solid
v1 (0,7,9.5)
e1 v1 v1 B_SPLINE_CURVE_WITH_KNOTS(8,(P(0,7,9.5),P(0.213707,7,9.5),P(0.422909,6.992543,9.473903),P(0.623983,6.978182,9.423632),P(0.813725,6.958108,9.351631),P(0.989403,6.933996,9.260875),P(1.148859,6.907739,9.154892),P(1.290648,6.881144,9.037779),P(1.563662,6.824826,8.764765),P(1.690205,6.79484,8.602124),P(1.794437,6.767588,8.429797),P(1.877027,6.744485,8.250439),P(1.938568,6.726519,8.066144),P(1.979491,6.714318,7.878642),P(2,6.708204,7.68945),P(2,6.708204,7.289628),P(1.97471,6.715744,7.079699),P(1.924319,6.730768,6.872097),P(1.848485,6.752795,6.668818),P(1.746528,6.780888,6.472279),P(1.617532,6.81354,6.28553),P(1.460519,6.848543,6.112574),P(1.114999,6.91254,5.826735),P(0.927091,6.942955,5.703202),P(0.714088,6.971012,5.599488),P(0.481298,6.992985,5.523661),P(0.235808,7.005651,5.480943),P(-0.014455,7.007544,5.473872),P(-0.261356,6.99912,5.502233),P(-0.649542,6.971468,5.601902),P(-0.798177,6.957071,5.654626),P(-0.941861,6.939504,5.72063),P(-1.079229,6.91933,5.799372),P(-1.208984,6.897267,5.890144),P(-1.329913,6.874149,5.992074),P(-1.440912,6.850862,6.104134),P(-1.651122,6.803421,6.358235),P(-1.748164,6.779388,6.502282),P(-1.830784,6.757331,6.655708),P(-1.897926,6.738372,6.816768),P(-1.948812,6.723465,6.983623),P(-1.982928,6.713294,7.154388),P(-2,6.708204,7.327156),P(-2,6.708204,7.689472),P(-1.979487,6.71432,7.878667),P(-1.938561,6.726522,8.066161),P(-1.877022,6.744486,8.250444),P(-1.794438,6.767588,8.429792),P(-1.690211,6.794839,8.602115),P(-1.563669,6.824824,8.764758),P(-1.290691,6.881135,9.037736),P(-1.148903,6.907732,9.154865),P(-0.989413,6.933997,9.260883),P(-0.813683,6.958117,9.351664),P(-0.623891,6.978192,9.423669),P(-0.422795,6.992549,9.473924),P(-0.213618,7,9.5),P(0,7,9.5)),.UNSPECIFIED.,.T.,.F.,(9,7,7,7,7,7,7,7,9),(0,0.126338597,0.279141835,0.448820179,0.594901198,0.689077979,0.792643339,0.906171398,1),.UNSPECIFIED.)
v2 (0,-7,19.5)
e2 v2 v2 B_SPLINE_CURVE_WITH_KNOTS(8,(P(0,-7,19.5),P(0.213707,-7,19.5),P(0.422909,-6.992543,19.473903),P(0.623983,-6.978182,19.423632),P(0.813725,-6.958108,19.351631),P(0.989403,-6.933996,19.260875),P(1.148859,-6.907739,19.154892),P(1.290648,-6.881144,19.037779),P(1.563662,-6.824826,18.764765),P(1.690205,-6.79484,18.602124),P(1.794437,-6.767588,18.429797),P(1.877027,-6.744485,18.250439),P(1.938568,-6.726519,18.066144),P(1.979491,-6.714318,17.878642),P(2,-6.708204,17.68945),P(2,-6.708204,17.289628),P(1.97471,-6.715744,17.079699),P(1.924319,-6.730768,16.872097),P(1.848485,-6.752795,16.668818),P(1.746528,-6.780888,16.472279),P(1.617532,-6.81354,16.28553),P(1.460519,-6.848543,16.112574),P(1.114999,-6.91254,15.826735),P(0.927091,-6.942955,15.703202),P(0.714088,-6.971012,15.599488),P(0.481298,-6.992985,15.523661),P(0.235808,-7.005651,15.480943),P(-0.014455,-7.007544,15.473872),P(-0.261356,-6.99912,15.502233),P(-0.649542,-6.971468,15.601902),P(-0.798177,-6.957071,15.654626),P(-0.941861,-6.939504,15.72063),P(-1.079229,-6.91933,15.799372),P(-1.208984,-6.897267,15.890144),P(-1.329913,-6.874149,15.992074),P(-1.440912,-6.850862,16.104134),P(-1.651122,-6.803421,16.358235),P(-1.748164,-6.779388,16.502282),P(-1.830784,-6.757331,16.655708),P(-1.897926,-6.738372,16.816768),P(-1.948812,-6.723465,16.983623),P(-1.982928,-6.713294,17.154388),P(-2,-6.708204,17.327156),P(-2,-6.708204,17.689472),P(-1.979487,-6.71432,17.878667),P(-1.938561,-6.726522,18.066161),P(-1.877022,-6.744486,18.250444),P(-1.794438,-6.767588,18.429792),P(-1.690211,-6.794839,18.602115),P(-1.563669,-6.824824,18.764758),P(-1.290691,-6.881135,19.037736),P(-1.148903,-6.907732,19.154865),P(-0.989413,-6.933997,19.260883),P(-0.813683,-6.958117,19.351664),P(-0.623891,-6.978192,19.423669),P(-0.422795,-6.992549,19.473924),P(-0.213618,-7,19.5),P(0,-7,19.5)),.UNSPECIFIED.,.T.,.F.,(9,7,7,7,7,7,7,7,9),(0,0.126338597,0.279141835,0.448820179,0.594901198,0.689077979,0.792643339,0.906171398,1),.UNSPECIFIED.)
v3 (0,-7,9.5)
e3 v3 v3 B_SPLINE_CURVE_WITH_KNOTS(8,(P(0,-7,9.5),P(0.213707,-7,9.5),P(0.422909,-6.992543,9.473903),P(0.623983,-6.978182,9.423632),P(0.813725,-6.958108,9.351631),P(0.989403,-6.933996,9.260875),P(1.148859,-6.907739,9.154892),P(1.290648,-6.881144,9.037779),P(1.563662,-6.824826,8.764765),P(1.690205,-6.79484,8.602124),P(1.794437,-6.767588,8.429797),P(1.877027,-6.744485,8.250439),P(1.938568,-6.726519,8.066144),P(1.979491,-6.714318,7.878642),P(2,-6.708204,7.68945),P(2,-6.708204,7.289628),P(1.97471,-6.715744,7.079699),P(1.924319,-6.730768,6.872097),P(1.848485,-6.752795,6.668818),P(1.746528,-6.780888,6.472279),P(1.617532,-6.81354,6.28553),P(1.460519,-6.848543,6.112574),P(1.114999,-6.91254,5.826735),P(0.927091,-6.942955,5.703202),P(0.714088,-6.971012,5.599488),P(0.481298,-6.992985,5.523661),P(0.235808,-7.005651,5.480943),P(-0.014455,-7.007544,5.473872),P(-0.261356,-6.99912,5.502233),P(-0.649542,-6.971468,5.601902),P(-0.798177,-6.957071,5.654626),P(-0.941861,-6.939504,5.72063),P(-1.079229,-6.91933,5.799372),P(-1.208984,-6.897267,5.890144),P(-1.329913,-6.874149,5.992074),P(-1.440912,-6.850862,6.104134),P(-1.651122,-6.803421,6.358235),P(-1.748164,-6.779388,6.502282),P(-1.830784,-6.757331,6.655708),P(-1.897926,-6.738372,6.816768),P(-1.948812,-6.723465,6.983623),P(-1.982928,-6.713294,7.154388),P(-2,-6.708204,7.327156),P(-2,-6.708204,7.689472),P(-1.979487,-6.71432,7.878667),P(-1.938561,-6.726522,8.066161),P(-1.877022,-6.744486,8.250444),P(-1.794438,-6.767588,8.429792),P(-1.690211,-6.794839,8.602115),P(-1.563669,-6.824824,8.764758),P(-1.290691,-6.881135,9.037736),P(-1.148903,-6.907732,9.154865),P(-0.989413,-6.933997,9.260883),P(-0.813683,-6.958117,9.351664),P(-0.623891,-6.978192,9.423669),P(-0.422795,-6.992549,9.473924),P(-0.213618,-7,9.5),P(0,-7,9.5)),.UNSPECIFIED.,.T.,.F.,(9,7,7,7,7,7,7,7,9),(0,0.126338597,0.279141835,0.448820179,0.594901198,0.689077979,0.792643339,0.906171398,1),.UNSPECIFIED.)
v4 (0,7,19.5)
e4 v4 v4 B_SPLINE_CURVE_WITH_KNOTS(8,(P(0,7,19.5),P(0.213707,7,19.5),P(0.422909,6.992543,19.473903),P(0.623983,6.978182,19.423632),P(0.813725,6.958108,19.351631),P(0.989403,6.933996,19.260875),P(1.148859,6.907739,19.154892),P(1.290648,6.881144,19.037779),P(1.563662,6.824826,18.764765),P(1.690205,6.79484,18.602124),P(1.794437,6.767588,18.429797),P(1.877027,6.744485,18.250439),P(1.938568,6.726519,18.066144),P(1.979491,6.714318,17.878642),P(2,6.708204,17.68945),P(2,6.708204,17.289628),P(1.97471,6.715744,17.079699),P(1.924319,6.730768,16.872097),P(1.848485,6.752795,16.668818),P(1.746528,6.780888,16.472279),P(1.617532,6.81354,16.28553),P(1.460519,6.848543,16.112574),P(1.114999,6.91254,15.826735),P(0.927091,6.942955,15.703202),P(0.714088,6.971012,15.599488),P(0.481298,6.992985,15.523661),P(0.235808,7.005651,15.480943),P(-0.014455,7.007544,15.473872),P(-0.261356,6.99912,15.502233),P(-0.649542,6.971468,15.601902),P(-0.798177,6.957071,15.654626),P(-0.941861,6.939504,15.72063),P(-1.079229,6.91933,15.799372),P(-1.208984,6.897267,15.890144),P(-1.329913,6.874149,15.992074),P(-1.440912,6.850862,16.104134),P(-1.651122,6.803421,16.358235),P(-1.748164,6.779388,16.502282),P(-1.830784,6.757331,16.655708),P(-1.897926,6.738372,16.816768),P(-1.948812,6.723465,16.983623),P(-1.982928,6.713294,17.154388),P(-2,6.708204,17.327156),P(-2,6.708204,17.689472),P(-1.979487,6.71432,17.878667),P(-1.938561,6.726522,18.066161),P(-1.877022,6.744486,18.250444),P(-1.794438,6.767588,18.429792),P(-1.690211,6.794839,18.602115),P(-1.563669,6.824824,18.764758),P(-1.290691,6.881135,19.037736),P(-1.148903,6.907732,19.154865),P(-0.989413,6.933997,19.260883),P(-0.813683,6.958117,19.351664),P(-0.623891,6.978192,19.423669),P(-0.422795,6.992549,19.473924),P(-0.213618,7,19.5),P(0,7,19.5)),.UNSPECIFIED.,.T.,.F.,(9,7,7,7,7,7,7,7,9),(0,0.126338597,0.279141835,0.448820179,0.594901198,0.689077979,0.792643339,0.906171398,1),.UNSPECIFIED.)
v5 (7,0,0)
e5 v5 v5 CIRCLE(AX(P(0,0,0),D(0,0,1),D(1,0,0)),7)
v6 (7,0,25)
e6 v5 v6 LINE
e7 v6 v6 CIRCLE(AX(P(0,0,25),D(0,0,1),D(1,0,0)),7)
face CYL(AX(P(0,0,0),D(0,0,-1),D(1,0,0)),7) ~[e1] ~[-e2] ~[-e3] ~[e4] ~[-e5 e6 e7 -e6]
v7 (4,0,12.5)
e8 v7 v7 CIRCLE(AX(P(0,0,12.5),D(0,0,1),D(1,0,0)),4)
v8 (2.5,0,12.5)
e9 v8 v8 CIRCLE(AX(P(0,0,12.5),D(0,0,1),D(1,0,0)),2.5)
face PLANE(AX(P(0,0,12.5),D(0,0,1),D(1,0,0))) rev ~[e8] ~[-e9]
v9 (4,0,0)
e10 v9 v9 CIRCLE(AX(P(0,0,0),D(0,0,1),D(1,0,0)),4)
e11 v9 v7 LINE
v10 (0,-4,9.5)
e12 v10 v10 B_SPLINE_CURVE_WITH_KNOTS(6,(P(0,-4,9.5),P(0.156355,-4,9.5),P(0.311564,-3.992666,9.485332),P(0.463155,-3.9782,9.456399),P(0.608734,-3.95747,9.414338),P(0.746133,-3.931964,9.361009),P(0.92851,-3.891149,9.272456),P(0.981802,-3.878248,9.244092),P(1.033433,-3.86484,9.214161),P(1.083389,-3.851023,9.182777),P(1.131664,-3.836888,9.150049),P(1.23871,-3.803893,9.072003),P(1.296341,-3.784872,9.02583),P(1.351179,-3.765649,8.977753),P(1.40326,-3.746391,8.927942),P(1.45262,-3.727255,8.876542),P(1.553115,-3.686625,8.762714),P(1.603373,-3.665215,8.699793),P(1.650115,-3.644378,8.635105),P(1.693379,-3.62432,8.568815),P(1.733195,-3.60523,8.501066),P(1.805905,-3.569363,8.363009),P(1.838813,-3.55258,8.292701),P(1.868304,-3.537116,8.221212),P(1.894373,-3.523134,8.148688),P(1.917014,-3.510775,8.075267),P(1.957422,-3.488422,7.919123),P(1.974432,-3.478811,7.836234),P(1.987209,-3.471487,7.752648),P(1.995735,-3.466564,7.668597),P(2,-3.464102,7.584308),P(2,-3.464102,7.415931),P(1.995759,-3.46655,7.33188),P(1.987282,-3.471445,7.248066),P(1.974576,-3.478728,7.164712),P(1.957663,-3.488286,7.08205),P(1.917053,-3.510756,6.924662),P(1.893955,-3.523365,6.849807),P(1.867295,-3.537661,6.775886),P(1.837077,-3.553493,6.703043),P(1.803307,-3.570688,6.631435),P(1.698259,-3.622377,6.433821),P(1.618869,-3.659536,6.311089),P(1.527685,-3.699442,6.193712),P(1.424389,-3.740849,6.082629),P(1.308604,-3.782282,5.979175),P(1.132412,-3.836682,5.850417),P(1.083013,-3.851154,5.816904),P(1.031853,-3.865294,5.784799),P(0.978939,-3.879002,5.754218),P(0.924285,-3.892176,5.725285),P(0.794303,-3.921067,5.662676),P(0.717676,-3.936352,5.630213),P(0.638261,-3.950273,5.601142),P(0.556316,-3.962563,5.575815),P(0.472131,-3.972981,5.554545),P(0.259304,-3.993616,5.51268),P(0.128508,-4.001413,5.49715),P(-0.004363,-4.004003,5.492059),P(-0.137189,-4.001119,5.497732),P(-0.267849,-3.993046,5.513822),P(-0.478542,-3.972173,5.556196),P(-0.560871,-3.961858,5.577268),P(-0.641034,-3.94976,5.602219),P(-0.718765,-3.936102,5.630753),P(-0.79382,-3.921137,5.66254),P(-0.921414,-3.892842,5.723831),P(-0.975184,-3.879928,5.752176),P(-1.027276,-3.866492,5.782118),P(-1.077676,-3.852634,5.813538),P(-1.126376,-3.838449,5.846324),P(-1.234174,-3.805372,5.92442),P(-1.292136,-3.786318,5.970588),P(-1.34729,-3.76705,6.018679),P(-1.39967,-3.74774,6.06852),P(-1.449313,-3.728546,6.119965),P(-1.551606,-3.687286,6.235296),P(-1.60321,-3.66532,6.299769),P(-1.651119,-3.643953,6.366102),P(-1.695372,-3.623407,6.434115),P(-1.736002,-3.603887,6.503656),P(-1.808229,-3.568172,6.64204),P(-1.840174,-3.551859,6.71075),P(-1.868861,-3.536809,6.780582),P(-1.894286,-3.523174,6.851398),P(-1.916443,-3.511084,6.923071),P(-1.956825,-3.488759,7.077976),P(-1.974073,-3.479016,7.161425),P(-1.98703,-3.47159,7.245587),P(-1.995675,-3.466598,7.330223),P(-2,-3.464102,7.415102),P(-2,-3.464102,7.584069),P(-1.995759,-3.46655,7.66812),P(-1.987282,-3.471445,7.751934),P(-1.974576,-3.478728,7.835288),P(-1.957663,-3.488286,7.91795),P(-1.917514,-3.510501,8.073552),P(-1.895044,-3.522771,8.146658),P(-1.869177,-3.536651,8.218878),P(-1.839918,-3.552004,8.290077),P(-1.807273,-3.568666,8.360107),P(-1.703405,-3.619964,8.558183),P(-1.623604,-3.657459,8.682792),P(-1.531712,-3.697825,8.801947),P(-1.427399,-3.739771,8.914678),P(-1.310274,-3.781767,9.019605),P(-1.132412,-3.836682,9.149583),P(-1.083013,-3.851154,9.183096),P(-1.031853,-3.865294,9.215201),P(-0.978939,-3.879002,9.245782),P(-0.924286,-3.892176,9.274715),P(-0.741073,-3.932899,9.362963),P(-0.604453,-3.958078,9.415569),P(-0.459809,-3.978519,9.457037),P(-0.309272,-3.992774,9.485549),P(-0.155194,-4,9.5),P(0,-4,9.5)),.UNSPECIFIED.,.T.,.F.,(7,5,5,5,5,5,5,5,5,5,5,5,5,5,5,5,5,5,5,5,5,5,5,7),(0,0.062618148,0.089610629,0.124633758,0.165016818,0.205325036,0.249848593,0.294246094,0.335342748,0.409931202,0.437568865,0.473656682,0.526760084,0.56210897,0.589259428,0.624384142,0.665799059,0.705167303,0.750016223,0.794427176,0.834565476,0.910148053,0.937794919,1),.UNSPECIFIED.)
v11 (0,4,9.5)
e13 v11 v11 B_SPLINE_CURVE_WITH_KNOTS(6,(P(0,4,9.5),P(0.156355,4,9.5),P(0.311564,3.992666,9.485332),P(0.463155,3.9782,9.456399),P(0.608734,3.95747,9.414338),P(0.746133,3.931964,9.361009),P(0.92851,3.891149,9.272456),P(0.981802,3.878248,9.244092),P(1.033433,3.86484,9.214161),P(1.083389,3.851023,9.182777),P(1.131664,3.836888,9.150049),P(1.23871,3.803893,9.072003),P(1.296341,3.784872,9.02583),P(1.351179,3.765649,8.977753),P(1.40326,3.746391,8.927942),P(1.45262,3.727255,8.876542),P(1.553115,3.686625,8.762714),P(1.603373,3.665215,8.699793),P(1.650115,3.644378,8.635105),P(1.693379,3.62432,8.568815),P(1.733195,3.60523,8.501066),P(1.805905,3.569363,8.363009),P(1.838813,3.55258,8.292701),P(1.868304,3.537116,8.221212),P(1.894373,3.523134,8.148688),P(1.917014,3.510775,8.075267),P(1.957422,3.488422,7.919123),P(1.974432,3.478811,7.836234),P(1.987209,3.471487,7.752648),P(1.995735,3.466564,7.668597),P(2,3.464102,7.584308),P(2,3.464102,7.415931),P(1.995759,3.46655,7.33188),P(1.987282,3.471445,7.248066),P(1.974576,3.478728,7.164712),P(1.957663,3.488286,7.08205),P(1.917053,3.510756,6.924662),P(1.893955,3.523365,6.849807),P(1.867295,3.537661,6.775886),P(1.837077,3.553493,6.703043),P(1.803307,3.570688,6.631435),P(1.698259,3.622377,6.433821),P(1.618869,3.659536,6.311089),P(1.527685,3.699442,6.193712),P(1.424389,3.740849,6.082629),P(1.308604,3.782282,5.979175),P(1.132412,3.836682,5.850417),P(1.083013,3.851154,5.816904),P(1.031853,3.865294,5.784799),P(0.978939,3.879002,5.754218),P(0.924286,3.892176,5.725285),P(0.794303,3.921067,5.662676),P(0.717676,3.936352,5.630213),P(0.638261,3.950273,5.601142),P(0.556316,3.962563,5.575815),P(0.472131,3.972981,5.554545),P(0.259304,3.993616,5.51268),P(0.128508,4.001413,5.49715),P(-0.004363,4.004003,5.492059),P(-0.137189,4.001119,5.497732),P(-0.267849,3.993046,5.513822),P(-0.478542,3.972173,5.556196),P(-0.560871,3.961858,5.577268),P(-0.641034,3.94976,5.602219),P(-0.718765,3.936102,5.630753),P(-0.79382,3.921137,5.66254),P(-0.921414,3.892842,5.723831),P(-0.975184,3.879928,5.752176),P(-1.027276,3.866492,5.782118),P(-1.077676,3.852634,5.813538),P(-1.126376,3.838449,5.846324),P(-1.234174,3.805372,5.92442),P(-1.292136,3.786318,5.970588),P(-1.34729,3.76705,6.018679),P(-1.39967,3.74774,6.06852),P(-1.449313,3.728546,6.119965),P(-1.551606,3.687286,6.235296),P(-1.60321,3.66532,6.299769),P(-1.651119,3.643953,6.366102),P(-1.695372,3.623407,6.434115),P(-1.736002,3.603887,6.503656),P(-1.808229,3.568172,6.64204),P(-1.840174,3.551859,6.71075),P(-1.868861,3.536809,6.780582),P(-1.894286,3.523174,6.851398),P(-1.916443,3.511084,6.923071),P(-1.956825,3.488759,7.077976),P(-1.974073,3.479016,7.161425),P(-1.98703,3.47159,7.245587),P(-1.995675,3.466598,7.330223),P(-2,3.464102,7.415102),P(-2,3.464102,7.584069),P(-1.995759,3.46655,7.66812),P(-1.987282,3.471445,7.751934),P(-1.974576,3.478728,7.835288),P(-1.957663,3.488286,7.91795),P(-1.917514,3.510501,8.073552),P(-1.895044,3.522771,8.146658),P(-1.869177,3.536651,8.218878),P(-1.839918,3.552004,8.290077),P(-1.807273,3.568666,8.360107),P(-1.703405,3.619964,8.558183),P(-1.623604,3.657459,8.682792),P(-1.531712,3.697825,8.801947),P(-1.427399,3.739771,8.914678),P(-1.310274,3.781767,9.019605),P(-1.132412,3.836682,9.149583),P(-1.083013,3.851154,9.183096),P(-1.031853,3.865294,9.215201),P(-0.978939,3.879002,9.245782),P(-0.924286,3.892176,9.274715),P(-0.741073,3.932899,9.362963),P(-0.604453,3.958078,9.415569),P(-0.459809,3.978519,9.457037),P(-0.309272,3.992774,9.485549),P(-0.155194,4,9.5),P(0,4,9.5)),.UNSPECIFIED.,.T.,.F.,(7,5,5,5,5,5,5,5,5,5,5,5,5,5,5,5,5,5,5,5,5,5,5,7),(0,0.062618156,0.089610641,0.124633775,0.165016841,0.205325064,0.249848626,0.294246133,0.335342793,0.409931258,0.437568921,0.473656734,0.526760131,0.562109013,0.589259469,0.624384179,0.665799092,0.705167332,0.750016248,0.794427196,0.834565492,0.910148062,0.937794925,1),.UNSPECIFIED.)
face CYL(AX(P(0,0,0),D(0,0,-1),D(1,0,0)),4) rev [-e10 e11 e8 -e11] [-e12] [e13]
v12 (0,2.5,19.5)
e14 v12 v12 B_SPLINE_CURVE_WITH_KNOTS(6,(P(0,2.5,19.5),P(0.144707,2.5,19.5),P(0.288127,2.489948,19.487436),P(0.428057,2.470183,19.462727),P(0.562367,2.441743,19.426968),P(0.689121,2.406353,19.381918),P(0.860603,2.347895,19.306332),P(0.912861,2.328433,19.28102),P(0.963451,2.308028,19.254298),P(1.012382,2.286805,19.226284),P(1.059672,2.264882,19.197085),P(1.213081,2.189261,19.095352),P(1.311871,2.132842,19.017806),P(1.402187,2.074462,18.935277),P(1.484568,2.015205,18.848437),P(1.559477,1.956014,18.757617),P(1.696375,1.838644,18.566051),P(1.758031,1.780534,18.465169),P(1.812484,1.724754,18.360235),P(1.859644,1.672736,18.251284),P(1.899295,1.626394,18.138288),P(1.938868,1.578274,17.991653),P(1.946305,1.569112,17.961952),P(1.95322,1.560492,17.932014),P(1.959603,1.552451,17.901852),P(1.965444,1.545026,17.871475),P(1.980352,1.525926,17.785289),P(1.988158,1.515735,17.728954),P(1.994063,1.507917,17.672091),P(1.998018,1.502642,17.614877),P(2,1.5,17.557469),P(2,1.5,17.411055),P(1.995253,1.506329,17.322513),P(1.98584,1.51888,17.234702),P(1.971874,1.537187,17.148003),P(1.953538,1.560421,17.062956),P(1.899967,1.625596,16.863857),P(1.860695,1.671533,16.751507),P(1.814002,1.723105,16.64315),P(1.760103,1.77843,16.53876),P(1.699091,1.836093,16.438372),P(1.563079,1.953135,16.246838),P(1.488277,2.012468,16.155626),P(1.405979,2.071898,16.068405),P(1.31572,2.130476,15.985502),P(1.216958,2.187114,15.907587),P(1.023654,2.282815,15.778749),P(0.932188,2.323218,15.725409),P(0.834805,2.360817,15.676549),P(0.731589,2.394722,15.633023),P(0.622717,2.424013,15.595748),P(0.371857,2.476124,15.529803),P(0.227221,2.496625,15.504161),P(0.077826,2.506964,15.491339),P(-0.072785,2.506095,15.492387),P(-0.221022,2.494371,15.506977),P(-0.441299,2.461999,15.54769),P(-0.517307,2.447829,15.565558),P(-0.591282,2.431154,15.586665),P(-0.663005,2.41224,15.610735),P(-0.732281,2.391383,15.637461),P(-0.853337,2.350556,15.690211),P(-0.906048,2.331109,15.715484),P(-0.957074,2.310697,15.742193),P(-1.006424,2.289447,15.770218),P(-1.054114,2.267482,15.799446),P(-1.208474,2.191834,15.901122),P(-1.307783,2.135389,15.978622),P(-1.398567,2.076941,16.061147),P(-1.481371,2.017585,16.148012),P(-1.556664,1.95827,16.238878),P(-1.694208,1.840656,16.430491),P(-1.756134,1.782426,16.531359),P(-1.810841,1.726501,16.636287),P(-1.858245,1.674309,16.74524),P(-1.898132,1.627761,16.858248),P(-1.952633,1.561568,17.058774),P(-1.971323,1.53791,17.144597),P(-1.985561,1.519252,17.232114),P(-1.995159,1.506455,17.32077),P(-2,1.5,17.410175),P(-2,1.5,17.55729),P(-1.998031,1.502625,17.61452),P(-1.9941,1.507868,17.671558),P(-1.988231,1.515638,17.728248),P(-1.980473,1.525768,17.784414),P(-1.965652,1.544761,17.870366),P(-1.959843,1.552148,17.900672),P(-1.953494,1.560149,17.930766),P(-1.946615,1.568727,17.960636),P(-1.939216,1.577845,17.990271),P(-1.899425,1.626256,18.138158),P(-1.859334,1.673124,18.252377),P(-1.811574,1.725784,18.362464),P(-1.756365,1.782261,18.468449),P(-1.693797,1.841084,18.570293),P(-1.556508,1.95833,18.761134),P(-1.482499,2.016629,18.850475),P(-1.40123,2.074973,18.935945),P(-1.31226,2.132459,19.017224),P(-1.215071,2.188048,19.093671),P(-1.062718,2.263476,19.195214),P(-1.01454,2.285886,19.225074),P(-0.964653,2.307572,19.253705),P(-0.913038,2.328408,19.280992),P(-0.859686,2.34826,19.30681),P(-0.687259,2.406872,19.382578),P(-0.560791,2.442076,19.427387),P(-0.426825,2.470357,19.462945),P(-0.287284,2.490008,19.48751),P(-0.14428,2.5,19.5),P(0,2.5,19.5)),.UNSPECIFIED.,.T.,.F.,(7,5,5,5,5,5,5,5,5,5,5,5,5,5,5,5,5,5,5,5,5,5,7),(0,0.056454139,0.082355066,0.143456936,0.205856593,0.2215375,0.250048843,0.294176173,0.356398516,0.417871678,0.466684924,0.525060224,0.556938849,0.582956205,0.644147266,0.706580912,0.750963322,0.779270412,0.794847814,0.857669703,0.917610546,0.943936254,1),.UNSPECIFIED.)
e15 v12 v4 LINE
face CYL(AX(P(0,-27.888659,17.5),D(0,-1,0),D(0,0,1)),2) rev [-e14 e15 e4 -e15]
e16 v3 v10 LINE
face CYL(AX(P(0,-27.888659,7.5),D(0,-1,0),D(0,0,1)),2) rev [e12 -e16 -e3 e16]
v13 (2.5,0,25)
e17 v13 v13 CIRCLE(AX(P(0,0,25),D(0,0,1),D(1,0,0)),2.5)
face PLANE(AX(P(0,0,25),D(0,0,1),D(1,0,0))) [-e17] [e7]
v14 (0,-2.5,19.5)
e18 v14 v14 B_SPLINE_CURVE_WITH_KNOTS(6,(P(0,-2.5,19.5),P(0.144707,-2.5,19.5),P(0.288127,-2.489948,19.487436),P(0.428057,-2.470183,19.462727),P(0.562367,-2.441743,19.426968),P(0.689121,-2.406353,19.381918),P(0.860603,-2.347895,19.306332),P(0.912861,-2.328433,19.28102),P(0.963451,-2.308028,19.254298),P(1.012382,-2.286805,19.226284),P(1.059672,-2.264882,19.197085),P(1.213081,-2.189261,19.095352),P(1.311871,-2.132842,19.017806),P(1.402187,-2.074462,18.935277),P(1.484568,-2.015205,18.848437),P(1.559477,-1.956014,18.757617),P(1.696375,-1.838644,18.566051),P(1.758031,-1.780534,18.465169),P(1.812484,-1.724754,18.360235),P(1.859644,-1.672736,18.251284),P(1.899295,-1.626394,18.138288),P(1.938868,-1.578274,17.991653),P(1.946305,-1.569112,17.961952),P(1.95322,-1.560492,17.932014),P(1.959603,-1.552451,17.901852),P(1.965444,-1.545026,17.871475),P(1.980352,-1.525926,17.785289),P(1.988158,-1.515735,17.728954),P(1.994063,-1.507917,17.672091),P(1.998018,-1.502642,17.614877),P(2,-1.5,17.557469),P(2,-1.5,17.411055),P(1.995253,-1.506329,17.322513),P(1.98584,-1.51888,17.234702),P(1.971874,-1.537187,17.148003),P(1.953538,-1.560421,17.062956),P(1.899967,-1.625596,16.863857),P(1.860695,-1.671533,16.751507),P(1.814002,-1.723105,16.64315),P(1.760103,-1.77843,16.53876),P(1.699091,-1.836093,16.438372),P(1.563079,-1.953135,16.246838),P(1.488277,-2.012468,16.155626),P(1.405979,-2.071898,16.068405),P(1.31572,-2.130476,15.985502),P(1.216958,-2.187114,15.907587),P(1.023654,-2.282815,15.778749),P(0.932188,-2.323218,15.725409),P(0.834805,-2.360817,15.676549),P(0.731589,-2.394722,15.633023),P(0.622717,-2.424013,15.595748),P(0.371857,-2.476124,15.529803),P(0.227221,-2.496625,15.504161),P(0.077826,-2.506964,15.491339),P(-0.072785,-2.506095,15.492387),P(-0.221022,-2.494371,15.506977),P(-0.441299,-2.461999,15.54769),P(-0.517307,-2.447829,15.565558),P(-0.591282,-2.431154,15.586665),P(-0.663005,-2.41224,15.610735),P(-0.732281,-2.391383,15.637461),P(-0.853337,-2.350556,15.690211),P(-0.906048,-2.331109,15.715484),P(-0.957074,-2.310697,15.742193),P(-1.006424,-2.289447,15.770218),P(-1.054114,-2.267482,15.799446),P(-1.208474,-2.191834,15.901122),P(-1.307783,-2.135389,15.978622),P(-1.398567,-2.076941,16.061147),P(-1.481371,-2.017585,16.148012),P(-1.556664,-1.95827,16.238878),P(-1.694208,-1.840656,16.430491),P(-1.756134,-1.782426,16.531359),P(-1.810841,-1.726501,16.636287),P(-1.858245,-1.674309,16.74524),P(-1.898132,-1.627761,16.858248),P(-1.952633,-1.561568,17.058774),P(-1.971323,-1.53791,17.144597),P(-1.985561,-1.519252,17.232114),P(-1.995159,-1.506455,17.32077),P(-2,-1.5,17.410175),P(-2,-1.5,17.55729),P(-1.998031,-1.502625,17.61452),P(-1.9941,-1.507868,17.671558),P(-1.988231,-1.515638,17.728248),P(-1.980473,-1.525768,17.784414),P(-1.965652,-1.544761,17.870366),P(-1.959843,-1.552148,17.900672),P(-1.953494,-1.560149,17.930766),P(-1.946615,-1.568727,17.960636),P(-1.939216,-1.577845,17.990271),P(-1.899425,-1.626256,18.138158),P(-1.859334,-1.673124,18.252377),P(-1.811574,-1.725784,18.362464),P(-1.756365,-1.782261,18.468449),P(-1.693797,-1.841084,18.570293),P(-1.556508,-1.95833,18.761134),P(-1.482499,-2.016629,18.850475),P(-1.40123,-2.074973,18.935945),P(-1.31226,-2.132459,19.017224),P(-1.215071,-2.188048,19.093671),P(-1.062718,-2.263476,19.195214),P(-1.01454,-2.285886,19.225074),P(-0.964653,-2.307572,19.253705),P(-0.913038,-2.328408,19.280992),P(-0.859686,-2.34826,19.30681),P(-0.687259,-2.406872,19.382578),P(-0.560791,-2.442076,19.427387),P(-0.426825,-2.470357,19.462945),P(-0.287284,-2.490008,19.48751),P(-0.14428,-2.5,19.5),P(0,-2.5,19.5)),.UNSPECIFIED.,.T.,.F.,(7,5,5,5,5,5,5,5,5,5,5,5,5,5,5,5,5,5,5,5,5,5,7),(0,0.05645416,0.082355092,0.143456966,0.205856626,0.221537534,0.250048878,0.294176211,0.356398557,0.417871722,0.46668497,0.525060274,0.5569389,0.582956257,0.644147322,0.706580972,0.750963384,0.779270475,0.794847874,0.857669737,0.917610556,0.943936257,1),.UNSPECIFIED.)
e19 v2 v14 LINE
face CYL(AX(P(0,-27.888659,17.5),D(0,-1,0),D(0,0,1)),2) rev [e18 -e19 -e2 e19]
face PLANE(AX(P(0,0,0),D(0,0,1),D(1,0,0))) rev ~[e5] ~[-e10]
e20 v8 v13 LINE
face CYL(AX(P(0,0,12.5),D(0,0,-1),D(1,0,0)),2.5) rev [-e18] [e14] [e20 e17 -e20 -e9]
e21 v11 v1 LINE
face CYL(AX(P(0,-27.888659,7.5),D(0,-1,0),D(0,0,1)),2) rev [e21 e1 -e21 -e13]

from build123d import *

# Parameters (mm, degrees)
SKETCH1_R               = 7
SKETCH1_R_2             = 4
BOSS_EXTRUDE1_DEPTH     = 25
BOSS_EXTRUDE2_START     = -12.5
SKETCH2_R               = 4
SKETCH2_R_2             = 2.5
BOSS_EXTRUDE2_DEPTH     = 12.5
CUT_EXTRUDE1_DEPTH      = 27.888659319
CUT_EXTRUDE1_DEPTH_BACK = 27.888659319
SKETCH3_R               = 2


with BuildPart() as part:
    # Sketch1 → Boss-Extrude1 (new body)
    with BuildSketch(Plane.XY):
        Circle(SKETCH1_R)
        Circle(SKETCH1_R_2, mode=Mode.SUBTRACT)
    extrude(amount=BOSS_EXTRUDE1_DEPTH)

    # Sketch2 → Boss-Extrude2 (add)
    with BuildSketch(Plane.XY.offset(25).offset(BOSS_EXTRUDE2_START)):
        Circle(SKETCH2_R)
        Circle(SKETCH2_R_2, mode=Mode.SUBTRACT)
    extrude(amount=BOSS_EXTRUDE2_DEPTH)

    # Sketch3 → Cut-Extrude1 (cut, two sides: drawn at the far end of the back side and taken through both)
    with BuildSketch(Plane(origin=(0, 0, 0), x_dir=(1, 0, 0), z_dir=(0, 1, 0)).offset(-CUT_EXTRUDE1_DEPTH_BACK)):
        with Locations(Location((0, -7.5, 0), (0, 0, 270))):
            Circle(SKETCH3_R)
        with Locations(Location((0, -17.5, 0), (0, 0, 270))):
            Circle(SKETCH3_R)
    extrude(amount=CUT_EXTRUDE1_DEPTH + CUT_EXTRUDE1_DEPTH_BACK, mode=Mode.SUBTRACT)


solid = part.part
